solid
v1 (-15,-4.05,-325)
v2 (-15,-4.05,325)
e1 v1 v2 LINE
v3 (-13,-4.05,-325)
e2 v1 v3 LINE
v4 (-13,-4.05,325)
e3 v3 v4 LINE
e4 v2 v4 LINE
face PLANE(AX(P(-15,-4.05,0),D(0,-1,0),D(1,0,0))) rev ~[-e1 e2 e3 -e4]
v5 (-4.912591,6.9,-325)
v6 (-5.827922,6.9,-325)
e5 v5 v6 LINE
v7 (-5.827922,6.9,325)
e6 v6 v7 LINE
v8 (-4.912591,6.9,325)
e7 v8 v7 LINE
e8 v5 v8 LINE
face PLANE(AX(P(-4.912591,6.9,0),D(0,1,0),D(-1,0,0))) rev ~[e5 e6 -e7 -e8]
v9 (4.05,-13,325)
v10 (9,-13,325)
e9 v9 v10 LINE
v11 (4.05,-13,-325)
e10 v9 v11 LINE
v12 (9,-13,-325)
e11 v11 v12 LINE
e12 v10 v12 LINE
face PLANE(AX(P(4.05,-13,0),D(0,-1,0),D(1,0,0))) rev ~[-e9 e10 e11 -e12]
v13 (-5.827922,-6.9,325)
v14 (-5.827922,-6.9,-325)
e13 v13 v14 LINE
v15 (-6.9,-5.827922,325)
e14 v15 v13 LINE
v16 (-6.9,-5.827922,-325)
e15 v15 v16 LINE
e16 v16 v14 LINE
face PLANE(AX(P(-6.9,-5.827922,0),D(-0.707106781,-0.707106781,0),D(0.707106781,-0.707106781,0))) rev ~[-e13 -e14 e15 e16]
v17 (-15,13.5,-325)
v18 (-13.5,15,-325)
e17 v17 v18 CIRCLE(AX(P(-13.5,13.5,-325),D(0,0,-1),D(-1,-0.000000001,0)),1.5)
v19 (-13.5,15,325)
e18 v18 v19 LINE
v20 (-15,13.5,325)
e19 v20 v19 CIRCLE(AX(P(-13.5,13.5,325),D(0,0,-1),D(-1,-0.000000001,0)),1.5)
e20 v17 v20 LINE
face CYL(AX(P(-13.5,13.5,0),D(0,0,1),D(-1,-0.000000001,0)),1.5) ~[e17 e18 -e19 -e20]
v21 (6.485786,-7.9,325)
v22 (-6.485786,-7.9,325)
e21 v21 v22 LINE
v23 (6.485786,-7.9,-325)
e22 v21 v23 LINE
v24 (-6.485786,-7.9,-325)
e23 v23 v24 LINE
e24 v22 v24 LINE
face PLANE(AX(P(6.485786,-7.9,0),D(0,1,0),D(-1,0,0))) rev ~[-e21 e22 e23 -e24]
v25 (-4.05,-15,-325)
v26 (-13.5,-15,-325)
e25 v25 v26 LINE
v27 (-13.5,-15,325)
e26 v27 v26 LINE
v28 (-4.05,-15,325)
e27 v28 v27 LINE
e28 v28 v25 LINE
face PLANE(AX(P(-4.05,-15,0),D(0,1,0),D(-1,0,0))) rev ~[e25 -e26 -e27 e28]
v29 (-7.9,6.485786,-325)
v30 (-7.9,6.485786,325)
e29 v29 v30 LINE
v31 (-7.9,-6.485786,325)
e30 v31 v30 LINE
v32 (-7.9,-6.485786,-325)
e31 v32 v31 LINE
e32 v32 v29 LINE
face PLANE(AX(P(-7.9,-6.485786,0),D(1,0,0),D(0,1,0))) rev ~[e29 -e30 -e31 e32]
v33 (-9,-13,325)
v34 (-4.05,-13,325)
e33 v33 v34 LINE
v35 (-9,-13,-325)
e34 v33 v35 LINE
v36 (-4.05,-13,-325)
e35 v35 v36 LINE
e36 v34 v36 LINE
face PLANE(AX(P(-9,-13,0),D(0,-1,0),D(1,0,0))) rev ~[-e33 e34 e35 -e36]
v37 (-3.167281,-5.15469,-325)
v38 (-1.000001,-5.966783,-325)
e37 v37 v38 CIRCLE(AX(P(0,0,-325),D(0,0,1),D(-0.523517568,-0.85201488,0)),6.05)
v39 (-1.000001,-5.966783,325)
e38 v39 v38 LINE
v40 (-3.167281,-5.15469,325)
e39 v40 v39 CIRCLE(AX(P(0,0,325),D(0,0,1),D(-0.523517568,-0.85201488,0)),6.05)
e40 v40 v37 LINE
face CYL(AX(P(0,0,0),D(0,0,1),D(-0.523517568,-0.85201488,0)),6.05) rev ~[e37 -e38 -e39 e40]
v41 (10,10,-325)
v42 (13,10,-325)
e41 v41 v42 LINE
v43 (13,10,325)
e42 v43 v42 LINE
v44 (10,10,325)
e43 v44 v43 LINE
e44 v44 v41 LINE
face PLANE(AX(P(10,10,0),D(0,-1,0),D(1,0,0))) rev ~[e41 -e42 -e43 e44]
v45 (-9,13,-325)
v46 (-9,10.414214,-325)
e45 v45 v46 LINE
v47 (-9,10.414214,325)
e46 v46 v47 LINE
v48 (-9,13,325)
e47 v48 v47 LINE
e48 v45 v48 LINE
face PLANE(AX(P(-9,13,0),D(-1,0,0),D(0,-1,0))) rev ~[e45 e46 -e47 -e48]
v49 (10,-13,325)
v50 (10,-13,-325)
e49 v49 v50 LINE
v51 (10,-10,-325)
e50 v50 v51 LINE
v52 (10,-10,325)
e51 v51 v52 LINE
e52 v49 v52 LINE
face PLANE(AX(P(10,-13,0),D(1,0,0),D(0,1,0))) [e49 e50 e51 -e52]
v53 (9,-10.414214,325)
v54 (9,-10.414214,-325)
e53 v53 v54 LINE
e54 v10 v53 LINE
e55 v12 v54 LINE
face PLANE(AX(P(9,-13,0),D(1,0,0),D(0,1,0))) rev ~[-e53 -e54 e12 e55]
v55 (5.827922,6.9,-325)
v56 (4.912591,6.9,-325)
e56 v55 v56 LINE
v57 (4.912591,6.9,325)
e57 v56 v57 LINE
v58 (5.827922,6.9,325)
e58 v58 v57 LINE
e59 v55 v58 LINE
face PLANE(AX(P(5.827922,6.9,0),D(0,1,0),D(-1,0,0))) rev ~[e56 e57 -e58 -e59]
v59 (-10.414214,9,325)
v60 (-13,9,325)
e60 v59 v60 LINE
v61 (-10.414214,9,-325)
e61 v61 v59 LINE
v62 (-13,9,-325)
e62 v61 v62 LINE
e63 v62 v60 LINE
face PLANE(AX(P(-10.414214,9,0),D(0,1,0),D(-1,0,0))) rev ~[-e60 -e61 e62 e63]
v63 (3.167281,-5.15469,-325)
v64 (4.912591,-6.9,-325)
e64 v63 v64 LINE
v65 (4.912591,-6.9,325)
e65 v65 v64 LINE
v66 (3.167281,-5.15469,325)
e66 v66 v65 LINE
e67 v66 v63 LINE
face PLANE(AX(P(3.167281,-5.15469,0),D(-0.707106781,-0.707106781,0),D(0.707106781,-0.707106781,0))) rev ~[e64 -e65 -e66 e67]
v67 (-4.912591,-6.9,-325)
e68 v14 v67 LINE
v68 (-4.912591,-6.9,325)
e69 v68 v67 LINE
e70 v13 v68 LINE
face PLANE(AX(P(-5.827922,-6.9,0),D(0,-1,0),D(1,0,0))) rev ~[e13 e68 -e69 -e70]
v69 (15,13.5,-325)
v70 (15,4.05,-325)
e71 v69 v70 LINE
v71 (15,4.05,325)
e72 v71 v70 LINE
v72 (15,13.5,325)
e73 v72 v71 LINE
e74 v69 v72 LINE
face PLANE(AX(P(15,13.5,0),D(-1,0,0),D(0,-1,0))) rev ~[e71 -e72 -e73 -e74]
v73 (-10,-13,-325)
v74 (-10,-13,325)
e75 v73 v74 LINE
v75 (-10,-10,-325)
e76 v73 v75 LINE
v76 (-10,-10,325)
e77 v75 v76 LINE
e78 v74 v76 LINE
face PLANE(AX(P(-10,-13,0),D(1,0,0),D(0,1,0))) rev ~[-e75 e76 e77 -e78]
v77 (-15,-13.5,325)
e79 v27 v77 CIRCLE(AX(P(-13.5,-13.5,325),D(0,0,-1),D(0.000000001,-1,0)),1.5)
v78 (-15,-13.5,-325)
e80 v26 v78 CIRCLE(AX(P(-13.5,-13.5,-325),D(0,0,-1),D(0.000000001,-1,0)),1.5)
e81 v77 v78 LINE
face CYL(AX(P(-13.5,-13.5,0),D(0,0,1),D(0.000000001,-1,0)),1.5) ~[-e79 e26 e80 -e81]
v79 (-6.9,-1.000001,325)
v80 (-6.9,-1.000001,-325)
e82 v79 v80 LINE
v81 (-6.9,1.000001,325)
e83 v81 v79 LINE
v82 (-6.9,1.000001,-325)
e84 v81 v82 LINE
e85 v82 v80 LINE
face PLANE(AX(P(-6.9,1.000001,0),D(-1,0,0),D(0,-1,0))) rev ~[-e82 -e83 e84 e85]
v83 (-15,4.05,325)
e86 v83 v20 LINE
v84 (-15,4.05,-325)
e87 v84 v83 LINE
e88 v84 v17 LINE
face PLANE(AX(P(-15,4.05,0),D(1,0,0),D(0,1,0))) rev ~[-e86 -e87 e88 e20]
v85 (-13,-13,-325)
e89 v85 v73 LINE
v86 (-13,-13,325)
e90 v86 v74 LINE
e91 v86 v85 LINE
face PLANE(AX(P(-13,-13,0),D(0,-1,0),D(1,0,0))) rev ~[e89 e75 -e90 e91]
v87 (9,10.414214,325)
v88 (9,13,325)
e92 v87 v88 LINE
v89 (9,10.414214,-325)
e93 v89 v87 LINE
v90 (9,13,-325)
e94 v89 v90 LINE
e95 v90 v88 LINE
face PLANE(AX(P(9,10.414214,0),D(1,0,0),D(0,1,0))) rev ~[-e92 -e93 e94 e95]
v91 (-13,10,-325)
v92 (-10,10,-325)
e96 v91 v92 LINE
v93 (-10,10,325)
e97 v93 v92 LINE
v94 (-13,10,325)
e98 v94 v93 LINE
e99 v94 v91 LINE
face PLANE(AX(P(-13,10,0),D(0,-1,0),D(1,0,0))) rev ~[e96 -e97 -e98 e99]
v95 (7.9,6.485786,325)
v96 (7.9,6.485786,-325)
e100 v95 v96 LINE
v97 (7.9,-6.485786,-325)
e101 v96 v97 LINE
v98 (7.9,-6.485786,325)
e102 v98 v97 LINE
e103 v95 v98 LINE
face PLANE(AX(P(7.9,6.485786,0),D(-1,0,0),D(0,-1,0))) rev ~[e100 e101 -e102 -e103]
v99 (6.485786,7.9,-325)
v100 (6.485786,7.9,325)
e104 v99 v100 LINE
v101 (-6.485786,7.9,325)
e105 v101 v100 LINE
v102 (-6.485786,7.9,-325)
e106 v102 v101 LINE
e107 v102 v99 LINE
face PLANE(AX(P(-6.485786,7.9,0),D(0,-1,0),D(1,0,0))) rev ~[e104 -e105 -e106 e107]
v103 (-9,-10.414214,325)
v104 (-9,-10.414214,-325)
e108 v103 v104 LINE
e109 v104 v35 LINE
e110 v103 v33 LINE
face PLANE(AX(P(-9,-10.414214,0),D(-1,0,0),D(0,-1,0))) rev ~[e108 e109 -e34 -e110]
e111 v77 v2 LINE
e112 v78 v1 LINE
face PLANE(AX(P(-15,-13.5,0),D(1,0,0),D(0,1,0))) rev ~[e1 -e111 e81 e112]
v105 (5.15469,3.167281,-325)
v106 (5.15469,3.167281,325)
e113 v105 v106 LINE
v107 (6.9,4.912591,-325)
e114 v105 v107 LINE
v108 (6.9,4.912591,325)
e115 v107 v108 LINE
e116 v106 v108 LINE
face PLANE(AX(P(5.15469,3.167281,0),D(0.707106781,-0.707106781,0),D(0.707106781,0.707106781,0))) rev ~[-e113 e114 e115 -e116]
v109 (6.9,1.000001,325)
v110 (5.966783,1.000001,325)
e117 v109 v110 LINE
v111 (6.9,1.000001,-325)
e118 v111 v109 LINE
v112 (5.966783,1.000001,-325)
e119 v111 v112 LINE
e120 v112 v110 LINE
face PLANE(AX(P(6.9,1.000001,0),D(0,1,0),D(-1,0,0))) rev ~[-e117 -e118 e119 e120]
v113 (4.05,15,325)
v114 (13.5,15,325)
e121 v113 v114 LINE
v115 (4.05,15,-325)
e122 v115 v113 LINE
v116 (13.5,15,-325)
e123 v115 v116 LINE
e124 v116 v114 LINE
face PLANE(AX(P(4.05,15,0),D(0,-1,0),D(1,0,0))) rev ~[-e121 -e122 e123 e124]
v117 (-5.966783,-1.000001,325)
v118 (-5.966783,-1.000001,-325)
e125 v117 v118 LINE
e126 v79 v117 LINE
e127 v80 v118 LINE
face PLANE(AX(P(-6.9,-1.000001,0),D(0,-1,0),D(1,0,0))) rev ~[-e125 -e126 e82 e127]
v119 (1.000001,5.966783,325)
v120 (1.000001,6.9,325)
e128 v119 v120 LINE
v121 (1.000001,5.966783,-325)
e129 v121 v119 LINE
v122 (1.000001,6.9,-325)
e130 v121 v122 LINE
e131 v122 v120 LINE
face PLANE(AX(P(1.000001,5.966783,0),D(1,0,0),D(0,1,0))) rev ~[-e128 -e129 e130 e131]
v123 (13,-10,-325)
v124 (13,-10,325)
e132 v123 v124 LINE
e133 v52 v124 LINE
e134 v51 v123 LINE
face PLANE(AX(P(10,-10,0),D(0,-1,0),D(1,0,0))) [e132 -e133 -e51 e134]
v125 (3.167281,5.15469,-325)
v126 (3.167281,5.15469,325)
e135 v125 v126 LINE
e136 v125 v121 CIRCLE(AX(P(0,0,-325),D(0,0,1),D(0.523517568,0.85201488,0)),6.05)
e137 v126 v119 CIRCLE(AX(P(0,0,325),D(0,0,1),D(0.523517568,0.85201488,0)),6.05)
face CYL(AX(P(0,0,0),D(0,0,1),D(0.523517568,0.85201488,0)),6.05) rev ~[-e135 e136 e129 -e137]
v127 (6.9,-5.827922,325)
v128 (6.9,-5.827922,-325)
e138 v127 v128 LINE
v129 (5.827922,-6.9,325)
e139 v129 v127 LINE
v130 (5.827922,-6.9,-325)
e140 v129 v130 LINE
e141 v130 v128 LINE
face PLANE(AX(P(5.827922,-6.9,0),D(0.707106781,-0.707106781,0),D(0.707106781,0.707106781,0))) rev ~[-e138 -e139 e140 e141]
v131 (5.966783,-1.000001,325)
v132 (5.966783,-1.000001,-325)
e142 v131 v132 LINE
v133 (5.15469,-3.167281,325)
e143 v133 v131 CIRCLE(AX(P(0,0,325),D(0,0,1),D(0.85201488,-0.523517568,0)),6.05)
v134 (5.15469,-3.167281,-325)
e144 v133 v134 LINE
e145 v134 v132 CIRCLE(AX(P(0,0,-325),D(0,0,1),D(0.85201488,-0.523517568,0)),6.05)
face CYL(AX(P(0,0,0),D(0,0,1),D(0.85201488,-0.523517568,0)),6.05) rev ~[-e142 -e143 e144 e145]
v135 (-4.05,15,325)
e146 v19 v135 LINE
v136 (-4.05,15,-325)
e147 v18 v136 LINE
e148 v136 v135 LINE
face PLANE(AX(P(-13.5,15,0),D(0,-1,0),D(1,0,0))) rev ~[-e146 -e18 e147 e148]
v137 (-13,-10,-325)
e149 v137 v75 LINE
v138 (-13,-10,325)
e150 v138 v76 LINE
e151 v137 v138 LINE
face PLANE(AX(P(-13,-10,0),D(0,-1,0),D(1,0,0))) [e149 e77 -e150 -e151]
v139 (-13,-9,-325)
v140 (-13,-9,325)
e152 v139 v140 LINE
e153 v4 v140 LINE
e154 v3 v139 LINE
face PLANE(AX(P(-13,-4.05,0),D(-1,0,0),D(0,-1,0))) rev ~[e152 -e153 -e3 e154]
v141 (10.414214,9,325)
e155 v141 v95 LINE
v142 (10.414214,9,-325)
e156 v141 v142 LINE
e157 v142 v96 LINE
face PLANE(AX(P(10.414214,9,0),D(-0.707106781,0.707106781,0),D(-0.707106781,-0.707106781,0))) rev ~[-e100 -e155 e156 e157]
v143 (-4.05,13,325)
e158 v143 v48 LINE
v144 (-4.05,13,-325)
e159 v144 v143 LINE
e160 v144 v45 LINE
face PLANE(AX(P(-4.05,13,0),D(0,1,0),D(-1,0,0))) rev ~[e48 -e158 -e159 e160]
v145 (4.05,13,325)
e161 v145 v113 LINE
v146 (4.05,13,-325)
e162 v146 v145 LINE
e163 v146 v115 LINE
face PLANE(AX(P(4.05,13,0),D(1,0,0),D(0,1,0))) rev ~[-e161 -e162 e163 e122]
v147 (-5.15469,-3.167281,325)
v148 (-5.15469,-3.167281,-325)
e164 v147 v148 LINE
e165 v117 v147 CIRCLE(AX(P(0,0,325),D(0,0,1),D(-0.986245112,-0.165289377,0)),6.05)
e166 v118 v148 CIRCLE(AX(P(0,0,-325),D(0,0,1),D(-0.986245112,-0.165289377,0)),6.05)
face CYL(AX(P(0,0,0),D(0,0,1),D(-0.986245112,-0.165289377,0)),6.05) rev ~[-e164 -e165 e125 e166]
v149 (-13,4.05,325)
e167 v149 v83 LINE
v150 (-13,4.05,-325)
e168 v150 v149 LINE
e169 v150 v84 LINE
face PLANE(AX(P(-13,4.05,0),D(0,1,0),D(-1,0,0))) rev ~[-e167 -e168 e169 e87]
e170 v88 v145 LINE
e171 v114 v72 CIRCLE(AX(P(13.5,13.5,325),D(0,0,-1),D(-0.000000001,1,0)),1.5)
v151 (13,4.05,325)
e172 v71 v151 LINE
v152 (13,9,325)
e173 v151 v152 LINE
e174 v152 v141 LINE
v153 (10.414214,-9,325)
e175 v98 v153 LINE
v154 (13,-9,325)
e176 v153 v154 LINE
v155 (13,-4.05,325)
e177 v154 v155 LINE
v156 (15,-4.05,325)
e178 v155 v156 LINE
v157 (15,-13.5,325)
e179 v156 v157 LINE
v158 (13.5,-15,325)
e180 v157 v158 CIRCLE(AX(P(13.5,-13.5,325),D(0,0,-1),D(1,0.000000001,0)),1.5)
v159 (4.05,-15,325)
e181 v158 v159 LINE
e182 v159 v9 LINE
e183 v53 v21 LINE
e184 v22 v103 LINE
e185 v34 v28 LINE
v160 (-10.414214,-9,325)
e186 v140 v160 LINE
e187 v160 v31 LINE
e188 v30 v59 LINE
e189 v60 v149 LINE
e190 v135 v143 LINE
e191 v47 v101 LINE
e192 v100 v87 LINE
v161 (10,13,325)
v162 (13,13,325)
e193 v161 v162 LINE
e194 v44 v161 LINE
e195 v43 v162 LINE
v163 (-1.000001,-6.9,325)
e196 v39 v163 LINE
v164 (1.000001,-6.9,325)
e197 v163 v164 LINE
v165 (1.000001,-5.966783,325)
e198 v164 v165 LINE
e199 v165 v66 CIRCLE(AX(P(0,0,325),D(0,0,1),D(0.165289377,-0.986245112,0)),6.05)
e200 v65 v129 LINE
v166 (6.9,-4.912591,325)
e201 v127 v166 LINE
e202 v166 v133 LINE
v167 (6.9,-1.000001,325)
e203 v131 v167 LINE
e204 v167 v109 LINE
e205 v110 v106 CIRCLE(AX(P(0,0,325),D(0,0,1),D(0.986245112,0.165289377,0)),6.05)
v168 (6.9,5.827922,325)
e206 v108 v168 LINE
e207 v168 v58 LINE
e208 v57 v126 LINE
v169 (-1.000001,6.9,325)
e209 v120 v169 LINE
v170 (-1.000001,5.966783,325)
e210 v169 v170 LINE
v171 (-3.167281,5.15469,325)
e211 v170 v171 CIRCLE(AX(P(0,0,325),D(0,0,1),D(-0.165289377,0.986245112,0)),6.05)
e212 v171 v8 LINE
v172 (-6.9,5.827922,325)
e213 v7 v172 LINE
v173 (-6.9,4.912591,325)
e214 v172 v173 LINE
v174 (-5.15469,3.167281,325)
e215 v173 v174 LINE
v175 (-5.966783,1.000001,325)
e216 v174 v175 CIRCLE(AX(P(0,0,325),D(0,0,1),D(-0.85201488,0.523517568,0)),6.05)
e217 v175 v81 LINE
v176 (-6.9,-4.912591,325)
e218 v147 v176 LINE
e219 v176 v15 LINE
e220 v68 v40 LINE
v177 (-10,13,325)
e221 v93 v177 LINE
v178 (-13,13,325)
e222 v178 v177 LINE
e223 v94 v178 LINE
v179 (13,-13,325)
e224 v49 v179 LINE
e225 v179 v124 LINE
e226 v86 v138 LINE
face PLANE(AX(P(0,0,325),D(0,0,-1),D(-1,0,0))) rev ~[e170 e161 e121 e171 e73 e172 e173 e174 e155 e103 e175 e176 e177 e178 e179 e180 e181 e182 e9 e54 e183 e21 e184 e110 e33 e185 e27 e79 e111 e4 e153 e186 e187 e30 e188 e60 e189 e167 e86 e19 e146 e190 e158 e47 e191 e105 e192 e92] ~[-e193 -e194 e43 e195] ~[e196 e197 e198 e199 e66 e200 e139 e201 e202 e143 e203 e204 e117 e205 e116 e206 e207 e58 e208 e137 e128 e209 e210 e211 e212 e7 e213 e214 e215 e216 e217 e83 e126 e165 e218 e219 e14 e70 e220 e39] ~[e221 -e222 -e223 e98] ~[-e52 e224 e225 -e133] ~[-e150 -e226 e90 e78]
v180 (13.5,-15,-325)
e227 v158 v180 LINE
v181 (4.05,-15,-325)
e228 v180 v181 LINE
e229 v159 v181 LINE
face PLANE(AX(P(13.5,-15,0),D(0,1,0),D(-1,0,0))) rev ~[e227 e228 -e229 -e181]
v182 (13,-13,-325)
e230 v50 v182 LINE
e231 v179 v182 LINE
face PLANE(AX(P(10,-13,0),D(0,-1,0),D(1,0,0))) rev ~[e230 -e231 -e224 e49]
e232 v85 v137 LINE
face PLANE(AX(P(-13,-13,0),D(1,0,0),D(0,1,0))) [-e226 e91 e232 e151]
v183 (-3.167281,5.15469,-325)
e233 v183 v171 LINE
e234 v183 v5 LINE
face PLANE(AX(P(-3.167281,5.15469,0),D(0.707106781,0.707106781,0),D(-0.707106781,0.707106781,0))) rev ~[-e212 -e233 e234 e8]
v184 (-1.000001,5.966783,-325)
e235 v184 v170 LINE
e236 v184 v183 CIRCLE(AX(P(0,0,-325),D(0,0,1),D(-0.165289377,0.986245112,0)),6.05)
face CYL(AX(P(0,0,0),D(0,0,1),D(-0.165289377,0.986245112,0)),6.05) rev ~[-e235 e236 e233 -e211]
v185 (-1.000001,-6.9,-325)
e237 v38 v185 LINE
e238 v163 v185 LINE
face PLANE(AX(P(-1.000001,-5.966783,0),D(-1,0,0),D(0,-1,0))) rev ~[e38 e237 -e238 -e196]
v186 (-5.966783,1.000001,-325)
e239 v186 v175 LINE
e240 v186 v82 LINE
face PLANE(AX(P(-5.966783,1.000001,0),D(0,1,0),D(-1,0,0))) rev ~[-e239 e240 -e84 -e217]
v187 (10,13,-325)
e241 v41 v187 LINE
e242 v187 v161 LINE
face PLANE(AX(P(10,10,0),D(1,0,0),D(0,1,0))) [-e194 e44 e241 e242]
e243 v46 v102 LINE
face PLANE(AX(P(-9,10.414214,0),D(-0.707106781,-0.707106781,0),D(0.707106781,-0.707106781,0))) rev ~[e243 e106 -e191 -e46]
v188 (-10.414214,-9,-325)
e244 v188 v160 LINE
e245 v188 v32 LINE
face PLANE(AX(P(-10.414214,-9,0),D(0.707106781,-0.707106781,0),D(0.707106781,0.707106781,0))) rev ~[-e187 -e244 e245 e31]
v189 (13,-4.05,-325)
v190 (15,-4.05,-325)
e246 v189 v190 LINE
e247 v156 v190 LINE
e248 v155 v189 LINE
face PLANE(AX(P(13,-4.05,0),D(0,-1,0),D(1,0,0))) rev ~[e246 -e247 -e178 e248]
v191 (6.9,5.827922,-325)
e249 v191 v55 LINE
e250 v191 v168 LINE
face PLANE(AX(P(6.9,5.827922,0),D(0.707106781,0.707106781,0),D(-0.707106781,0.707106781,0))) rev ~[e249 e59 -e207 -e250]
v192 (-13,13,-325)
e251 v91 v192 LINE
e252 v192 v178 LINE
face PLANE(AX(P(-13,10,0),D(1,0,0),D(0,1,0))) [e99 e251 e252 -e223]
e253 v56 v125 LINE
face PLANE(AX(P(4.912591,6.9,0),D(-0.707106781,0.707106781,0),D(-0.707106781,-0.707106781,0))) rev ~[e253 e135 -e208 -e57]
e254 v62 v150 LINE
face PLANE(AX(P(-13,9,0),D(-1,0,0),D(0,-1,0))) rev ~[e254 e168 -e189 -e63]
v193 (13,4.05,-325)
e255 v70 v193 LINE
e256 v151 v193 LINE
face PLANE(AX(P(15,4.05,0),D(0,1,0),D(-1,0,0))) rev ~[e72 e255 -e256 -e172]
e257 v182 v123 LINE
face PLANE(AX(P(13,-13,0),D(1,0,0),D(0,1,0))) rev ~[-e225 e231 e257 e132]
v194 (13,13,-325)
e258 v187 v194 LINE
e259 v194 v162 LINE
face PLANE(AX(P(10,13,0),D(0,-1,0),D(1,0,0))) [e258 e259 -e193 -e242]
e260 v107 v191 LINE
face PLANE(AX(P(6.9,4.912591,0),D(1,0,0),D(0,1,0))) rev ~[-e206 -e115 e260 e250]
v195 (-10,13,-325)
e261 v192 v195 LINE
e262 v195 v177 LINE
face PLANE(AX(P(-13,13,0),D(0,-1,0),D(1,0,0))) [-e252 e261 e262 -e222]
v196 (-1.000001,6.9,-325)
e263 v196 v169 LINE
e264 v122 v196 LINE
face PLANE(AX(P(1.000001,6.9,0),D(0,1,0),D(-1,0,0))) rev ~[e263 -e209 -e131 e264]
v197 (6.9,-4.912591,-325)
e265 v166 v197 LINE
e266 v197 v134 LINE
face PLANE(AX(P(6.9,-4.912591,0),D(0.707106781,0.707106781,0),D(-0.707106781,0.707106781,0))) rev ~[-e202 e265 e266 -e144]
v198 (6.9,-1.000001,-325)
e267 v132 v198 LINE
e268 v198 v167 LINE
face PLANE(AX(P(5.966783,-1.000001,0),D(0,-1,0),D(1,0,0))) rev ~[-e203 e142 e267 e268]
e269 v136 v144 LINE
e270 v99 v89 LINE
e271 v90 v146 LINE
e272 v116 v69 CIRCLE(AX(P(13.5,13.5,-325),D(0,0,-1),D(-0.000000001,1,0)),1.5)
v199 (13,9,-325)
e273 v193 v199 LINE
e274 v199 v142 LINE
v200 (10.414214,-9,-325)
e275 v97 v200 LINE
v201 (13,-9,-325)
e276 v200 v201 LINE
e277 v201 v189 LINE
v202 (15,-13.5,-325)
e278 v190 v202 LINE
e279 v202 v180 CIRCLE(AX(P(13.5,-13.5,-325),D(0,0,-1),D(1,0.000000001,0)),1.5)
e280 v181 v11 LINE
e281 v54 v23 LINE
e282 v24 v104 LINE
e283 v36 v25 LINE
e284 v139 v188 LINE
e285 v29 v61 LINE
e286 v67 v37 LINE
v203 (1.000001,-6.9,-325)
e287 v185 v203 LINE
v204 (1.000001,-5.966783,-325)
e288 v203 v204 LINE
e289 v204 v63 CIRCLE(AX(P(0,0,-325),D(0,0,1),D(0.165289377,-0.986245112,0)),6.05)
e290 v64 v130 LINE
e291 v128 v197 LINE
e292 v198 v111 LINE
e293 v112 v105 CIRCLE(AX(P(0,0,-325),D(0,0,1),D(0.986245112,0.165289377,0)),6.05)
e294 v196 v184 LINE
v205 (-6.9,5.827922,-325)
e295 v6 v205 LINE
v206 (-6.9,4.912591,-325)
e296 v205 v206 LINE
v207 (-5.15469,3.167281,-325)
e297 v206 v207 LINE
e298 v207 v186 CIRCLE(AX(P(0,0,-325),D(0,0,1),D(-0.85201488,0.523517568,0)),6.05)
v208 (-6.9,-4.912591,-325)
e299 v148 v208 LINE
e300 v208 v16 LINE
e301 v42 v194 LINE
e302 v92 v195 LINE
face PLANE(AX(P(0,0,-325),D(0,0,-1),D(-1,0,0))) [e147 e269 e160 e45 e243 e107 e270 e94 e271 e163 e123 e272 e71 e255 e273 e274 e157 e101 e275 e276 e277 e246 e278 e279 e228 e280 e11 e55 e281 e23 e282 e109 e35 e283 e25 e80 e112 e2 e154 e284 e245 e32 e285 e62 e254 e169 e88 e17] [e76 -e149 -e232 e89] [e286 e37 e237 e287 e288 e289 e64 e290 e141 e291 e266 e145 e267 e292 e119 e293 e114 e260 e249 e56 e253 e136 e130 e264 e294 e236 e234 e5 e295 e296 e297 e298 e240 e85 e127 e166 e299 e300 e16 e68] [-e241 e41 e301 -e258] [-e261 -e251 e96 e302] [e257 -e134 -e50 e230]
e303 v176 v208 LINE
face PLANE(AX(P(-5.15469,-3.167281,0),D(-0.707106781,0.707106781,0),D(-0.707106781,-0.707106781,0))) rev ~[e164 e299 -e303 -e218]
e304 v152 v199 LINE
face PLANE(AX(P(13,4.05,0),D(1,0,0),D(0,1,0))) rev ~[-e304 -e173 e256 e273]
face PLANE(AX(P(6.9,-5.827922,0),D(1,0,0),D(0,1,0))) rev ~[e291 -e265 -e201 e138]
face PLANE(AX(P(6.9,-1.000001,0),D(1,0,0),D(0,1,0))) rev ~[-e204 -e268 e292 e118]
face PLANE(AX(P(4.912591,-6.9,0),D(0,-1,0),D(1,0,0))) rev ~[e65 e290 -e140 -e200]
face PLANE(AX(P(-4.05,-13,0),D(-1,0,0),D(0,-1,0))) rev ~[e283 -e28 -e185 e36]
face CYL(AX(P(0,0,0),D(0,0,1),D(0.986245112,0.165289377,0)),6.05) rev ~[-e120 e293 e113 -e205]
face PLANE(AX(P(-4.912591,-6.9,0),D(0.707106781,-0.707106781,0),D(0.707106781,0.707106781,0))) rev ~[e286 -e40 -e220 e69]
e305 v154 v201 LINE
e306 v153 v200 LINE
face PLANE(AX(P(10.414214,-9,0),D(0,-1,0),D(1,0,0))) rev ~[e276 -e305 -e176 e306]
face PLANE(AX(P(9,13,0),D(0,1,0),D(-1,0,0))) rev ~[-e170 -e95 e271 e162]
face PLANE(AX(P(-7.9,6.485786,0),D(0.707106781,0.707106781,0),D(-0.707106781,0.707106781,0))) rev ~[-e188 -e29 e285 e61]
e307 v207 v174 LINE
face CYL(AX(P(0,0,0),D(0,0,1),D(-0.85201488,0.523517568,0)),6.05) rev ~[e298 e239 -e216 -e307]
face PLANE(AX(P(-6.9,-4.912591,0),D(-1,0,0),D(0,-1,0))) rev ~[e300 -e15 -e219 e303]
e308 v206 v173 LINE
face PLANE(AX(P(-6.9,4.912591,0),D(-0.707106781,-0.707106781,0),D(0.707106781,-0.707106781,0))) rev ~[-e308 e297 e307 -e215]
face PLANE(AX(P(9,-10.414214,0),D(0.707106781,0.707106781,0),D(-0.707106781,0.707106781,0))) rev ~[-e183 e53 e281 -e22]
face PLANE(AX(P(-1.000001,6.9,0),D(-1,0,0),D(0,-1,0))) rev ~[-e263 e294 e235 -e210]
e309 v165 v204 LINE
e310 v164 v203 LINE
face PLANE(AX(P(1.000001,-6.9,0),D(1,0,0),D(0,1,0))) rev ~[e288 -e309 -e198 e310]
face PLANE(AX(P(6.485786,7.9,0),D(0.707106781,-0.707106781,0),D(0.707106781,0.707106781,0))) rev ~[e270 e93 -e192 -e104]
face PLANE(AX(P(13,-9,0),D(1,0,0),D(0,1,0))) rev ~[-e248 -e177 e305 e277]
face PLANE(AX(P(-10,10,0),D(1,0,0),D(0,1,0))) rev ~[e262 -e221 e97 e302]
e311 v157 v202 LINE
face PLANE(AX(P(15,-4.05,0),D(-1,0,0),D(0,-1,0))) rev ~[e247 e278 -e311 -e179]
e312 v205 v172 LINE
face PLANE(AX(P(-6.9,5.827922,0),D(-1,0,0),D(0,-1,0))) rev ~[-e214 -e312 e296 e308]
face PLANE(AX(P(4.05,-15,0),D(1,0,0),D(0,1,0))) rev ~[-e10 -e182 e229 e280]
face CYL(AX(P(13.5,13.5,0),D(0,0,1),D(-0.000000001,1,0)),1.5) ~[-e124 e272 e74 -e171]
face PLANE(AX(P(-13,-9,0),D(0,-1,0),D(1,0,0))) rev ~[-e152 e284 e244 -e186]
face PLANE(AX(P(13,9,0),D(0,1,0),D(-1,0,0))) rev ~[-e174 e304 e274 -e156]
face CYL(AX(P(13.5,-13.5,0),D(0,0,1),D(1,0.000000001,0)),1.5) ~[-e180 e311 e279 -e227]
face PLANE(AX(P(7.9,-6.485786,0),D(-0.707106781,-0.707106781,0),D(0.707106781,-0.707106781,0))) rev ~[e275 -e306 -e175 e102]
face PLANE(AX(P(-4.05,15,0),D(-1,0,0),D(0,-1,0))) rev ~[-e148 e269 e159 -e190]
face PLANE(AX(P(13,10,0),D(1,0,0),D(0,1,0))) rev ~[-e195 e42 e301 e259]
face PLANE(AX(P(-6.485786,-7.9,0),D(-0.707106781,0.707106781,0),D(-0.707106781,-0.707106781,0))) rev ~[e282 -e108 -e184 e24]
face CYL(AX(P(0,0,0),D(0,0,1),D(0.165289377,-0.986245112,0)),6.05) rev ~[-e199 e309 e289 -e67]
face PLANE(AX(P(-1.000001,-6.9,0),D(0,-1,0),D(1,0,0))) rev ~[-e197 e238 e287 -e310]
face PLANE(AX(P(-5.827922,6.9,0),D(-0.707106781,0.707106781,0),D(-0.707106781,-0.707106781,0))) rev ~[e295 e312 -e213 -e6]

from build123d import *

# Parameters (mm, degrees)
ESBO_O1_W                = 3
ESBO_O1_H                = 3
RESSALTO_EXTRUS_O1_DEPTH = 325


with BuildPart() as part:
    # Esboço1 → Ressalto-extrusão1 (new, symmetric)
    with BuildSketch(Plane.XY):
        with BuildLine():
            Line((15, 13.5), (15, 4.05))
            Line((15, 4.05), (13, 4.05))
            Line((13, 4.05), (13, 9))
            Line((13, 9), (10.414213562, 9))
            Line((10.414213562, 9), (7.9, 6.485786438))
            Line((7.9, 6.485786438), (7.9, -7.36e-07))
            Line((7.9, -7.36e-07), (7.9, -6.485786438))
            Line((7.9, -6.485786438), (10.414213562, -9))
            Line((10.414213562, -9), (13, -9))
            Line((13, -9), (13, -4.05))
            Line((13, -4.05), (15, -4.05))
            Line((15, -4.05), (15, -13.5))
            ThreePointArc((15, -13.5), (14.560660172, -14.560660172), (13.5, -15))
            Line((13.5, -15), (4.05, -15))
            Line((4.05, -15), (4.05, -13))
            Line((4.05, -13), (9, -13))
            Line((9, -13), (9, -10.414213562))
            Line((9, -10.414213562), (6.485786438, -7.9))
            Line((6.485786438, -7.9), (-7.36e-07, -7.9))
            Line((-7.36e-07, -7.9), (-6.485786438, -7.9))
            Line((-6.485786438, -7.9), (-9, -10.414213562))
            Line((-9, -10.414213562), (-9, -13))
            Line((-9, -13), (-4.05, -13))
            Line((-4.05, -13), (-4.05, -15))
            Line((-4.05, -15), (-13.5, -15))
            ThreePointArc((-13.5, -15), (-14.560660172, -14.560660172), (-15, -13.5))
            Line((-15, -13.5), (-15, -4.05))
            Line((-15, -4.05), (-13, -4.05))
            Line((-13, -4.05), (-13, -9))
            Line((-13, -9), (-10.414213562, -9))
            Line((-10.414213562, -9), (-7.9, -6.485786438))
            Line((-7.9, -6.485786438), (-7.9, 7.36e-07))
            Line((-7.9, 7.36e-07), (-7.9, 6.485786438))
            Line((-7.9, 6.485786438), (-10.414213562, 9))
            Line((-10.414213562, 9), (-13, 9))
            Line((-13, 9), (-13, 4.05))
            Line((-13, 4.05), (-15, 4.05))
            Line((-15, 4.05), (-15, 13.5))
            ThreePointArc((-15, 13.5), (-14.560660172, 14.560660172), (-13.5, 15))
            Line((-13.5, 15), (-4.05, 15))
            Line((-4.05, 15), (-4.05, 13))
            Line((-4.05, 13), (-9, 13))
            Line((-9, 13), (-9, 10.414213562))
            Line((-9, 10.414213562), (-6.485786438, 7.9))
            Line((-6.485786438, 7.9), (7.36e-07, 7.9))
            Line((7.36e-07, 7.9), (6.485786438, 7.9))
            Line((6.485786438, 7.9), (9, 10.414213562))
            Line((9, 10.414213562), (9, 13))
            Line((9, 13), (4.05, 13))
            Line((4.05, 13), (4.05, 15))
            Line((4.05, 15), (13.5, 15))
            ThreePointArc((13.5, 15), (14.560660172, 14.560660172), (15, 13.5))
        make_face()
        with Locations((-11.5, 11.5)):
            Rectangle(ESBO_O1_W, ESBO_O1_H, mode=Mode.SUBTRACT)
        with BuildLine():
            Line((-6.9, 1.000000736), (-6.9, 7.36e-07))
            Line((-6.9, 7.36e-07), (-6.9, -1.000000736))
            Line((-6.9, -1.000000736), (-5.966782929, -1.000000736))
            ThreePointArc((-5.966782929, -1.000000736), (-5.665339038, -2.122836212), (-5.154690025, -3.167281286))
            Line((-5.154690025, -3.167281286), (-6.9, -4.91259126))
            Line((-6.9, -4.91259126), (-6.9, -5.827922061))
            Line((-6.9, -5.827922061), (-5.827922061, -6.9))
            Line((-5.827922061, -6.9), (-4.91259126, -6.9))
            Line((-4.91259126, -6.9), (-3.167281286, -5.154690025))
            ThreePointArc((-3.167281286, -5.154690025), (-2.122836212, -5.665339038), (-1.000000736, -5.966782929))
            Line((-1.000000736, -5.966782929), (-1.000000736, -6.9))
            Line((-1.000000736, -6.9), (-7.36e-07, -6.9))
            Line((-7.36e-07, -6.9), (1.000000736, -6.9))
            Line((1.000000736, -6.9), (1.000000736, -5.966782929))
            ThreePointArc((1.000000736, -5.966782929), (2.122836212, -5.665339038), (3.167281286, -5.154690025))
            Line((3.167281286, -5.154690025), (4.91259126, -6.9))
            Line((4.91259126, -6.9), (5.827922061, -6.9))
            Line((5.827922061, -6.9), (6.9, -5.827922061))
            Line((6.9, -5.827922061), (6.9, -4.91259126))
            Line((6.9, -4.91259126), (5.154690025, -3.167281286))
            ThreePointArc((5.154690025, -3.167281286), (5.665339038, -2.122836212), (5.966782929, -1.000000736))
            Line((5.966782929, -1.000000736), (6.9, -1.000000736))
            Line((6.9, -1.000000736), (6.9, -7.36e-07))
            Line((6.9, -7.36e-07), (6.9, 1.000000736))
            Line((6.9, 1.000000736), (5.966782929, 1.000000736))
            ThreePointArc((5.966782929, 1.000000736), (5.665339038, 2.122836212), (5.154690025, 3.167281286))
            Line((5.154690025, 3.167281286), (6.9, 4.91259126))
            Line((6.9, 4.91259126), (6.9, 5.827922061))
            Line((6.9, 5.827922061), (5.827922061, 6.9))
            Line((5.827922061, 6.9), (4.91259126, 6.9))
            Line((4.91259126, 6.9), (3.167281286, 5.154690025))
            ThreePointArc((3.167281286, 5.154690025), (2.122836212, 5.665339038), (1.000000736, 5.966782929))
            Line((1.000000736, 5.966782929), (1.000000736, 6.9))
            Line((1.000000736, 6.9), (7.36e-07, 6.9))
            Line((7.36e-07, 6.9), (-1.000000736, 6.9))
            Line((-1.000000736, 6.9), (-1.000000736, 5.966782929))
            ThreePointArc((-1.000000736, 5.966782929), (-2.122836212, 5.665339038), (-3.167281286, 5.154690025))
            Line((-3.167281286, 5.154690025), (-4.91259126, 6.9))
            Line((-4.91259126, 6.9), (-5.827922061, 6.9))
            Line((-5.827922061, 6.9), (-6.9, 5.827922061))
            Line((-6.9, 5.827922061), (-6.9, 4.91259126))
            Line((-6.9, 4.91259126), (-5.154690025, 3.167281286))
            ThreePointArc((-5.154690025, 3.167281286), (-5.665339038, 2.122836212), (-5.966782929, 1.000000736))
            Line((-5.966782929, 1.000000736), (-6.9, 1.000000736))
        make_face(mode=Mode.SUBTRACT)
        with Locations((11.5, 11.5)):
            Rectangle(ESBO_O1_W, ESBO_O1_H, mode=Mode.SUBTRACT)
        with Locations((11.5, -11.5)):
            Rectangle(ESBO_O1_W, ESBO_O1_H, mode=Mode.SUBTRACT)
        with Locations((-11.5, -11.5)):
            Rectangle(ESBO_O1_W, ESBO_O1_H, mode=Mode.SUBTRACT)
    extrude(amount=RESSALTO_EXTRUS_O1_DEPTH, both=True)


solid = part.part
